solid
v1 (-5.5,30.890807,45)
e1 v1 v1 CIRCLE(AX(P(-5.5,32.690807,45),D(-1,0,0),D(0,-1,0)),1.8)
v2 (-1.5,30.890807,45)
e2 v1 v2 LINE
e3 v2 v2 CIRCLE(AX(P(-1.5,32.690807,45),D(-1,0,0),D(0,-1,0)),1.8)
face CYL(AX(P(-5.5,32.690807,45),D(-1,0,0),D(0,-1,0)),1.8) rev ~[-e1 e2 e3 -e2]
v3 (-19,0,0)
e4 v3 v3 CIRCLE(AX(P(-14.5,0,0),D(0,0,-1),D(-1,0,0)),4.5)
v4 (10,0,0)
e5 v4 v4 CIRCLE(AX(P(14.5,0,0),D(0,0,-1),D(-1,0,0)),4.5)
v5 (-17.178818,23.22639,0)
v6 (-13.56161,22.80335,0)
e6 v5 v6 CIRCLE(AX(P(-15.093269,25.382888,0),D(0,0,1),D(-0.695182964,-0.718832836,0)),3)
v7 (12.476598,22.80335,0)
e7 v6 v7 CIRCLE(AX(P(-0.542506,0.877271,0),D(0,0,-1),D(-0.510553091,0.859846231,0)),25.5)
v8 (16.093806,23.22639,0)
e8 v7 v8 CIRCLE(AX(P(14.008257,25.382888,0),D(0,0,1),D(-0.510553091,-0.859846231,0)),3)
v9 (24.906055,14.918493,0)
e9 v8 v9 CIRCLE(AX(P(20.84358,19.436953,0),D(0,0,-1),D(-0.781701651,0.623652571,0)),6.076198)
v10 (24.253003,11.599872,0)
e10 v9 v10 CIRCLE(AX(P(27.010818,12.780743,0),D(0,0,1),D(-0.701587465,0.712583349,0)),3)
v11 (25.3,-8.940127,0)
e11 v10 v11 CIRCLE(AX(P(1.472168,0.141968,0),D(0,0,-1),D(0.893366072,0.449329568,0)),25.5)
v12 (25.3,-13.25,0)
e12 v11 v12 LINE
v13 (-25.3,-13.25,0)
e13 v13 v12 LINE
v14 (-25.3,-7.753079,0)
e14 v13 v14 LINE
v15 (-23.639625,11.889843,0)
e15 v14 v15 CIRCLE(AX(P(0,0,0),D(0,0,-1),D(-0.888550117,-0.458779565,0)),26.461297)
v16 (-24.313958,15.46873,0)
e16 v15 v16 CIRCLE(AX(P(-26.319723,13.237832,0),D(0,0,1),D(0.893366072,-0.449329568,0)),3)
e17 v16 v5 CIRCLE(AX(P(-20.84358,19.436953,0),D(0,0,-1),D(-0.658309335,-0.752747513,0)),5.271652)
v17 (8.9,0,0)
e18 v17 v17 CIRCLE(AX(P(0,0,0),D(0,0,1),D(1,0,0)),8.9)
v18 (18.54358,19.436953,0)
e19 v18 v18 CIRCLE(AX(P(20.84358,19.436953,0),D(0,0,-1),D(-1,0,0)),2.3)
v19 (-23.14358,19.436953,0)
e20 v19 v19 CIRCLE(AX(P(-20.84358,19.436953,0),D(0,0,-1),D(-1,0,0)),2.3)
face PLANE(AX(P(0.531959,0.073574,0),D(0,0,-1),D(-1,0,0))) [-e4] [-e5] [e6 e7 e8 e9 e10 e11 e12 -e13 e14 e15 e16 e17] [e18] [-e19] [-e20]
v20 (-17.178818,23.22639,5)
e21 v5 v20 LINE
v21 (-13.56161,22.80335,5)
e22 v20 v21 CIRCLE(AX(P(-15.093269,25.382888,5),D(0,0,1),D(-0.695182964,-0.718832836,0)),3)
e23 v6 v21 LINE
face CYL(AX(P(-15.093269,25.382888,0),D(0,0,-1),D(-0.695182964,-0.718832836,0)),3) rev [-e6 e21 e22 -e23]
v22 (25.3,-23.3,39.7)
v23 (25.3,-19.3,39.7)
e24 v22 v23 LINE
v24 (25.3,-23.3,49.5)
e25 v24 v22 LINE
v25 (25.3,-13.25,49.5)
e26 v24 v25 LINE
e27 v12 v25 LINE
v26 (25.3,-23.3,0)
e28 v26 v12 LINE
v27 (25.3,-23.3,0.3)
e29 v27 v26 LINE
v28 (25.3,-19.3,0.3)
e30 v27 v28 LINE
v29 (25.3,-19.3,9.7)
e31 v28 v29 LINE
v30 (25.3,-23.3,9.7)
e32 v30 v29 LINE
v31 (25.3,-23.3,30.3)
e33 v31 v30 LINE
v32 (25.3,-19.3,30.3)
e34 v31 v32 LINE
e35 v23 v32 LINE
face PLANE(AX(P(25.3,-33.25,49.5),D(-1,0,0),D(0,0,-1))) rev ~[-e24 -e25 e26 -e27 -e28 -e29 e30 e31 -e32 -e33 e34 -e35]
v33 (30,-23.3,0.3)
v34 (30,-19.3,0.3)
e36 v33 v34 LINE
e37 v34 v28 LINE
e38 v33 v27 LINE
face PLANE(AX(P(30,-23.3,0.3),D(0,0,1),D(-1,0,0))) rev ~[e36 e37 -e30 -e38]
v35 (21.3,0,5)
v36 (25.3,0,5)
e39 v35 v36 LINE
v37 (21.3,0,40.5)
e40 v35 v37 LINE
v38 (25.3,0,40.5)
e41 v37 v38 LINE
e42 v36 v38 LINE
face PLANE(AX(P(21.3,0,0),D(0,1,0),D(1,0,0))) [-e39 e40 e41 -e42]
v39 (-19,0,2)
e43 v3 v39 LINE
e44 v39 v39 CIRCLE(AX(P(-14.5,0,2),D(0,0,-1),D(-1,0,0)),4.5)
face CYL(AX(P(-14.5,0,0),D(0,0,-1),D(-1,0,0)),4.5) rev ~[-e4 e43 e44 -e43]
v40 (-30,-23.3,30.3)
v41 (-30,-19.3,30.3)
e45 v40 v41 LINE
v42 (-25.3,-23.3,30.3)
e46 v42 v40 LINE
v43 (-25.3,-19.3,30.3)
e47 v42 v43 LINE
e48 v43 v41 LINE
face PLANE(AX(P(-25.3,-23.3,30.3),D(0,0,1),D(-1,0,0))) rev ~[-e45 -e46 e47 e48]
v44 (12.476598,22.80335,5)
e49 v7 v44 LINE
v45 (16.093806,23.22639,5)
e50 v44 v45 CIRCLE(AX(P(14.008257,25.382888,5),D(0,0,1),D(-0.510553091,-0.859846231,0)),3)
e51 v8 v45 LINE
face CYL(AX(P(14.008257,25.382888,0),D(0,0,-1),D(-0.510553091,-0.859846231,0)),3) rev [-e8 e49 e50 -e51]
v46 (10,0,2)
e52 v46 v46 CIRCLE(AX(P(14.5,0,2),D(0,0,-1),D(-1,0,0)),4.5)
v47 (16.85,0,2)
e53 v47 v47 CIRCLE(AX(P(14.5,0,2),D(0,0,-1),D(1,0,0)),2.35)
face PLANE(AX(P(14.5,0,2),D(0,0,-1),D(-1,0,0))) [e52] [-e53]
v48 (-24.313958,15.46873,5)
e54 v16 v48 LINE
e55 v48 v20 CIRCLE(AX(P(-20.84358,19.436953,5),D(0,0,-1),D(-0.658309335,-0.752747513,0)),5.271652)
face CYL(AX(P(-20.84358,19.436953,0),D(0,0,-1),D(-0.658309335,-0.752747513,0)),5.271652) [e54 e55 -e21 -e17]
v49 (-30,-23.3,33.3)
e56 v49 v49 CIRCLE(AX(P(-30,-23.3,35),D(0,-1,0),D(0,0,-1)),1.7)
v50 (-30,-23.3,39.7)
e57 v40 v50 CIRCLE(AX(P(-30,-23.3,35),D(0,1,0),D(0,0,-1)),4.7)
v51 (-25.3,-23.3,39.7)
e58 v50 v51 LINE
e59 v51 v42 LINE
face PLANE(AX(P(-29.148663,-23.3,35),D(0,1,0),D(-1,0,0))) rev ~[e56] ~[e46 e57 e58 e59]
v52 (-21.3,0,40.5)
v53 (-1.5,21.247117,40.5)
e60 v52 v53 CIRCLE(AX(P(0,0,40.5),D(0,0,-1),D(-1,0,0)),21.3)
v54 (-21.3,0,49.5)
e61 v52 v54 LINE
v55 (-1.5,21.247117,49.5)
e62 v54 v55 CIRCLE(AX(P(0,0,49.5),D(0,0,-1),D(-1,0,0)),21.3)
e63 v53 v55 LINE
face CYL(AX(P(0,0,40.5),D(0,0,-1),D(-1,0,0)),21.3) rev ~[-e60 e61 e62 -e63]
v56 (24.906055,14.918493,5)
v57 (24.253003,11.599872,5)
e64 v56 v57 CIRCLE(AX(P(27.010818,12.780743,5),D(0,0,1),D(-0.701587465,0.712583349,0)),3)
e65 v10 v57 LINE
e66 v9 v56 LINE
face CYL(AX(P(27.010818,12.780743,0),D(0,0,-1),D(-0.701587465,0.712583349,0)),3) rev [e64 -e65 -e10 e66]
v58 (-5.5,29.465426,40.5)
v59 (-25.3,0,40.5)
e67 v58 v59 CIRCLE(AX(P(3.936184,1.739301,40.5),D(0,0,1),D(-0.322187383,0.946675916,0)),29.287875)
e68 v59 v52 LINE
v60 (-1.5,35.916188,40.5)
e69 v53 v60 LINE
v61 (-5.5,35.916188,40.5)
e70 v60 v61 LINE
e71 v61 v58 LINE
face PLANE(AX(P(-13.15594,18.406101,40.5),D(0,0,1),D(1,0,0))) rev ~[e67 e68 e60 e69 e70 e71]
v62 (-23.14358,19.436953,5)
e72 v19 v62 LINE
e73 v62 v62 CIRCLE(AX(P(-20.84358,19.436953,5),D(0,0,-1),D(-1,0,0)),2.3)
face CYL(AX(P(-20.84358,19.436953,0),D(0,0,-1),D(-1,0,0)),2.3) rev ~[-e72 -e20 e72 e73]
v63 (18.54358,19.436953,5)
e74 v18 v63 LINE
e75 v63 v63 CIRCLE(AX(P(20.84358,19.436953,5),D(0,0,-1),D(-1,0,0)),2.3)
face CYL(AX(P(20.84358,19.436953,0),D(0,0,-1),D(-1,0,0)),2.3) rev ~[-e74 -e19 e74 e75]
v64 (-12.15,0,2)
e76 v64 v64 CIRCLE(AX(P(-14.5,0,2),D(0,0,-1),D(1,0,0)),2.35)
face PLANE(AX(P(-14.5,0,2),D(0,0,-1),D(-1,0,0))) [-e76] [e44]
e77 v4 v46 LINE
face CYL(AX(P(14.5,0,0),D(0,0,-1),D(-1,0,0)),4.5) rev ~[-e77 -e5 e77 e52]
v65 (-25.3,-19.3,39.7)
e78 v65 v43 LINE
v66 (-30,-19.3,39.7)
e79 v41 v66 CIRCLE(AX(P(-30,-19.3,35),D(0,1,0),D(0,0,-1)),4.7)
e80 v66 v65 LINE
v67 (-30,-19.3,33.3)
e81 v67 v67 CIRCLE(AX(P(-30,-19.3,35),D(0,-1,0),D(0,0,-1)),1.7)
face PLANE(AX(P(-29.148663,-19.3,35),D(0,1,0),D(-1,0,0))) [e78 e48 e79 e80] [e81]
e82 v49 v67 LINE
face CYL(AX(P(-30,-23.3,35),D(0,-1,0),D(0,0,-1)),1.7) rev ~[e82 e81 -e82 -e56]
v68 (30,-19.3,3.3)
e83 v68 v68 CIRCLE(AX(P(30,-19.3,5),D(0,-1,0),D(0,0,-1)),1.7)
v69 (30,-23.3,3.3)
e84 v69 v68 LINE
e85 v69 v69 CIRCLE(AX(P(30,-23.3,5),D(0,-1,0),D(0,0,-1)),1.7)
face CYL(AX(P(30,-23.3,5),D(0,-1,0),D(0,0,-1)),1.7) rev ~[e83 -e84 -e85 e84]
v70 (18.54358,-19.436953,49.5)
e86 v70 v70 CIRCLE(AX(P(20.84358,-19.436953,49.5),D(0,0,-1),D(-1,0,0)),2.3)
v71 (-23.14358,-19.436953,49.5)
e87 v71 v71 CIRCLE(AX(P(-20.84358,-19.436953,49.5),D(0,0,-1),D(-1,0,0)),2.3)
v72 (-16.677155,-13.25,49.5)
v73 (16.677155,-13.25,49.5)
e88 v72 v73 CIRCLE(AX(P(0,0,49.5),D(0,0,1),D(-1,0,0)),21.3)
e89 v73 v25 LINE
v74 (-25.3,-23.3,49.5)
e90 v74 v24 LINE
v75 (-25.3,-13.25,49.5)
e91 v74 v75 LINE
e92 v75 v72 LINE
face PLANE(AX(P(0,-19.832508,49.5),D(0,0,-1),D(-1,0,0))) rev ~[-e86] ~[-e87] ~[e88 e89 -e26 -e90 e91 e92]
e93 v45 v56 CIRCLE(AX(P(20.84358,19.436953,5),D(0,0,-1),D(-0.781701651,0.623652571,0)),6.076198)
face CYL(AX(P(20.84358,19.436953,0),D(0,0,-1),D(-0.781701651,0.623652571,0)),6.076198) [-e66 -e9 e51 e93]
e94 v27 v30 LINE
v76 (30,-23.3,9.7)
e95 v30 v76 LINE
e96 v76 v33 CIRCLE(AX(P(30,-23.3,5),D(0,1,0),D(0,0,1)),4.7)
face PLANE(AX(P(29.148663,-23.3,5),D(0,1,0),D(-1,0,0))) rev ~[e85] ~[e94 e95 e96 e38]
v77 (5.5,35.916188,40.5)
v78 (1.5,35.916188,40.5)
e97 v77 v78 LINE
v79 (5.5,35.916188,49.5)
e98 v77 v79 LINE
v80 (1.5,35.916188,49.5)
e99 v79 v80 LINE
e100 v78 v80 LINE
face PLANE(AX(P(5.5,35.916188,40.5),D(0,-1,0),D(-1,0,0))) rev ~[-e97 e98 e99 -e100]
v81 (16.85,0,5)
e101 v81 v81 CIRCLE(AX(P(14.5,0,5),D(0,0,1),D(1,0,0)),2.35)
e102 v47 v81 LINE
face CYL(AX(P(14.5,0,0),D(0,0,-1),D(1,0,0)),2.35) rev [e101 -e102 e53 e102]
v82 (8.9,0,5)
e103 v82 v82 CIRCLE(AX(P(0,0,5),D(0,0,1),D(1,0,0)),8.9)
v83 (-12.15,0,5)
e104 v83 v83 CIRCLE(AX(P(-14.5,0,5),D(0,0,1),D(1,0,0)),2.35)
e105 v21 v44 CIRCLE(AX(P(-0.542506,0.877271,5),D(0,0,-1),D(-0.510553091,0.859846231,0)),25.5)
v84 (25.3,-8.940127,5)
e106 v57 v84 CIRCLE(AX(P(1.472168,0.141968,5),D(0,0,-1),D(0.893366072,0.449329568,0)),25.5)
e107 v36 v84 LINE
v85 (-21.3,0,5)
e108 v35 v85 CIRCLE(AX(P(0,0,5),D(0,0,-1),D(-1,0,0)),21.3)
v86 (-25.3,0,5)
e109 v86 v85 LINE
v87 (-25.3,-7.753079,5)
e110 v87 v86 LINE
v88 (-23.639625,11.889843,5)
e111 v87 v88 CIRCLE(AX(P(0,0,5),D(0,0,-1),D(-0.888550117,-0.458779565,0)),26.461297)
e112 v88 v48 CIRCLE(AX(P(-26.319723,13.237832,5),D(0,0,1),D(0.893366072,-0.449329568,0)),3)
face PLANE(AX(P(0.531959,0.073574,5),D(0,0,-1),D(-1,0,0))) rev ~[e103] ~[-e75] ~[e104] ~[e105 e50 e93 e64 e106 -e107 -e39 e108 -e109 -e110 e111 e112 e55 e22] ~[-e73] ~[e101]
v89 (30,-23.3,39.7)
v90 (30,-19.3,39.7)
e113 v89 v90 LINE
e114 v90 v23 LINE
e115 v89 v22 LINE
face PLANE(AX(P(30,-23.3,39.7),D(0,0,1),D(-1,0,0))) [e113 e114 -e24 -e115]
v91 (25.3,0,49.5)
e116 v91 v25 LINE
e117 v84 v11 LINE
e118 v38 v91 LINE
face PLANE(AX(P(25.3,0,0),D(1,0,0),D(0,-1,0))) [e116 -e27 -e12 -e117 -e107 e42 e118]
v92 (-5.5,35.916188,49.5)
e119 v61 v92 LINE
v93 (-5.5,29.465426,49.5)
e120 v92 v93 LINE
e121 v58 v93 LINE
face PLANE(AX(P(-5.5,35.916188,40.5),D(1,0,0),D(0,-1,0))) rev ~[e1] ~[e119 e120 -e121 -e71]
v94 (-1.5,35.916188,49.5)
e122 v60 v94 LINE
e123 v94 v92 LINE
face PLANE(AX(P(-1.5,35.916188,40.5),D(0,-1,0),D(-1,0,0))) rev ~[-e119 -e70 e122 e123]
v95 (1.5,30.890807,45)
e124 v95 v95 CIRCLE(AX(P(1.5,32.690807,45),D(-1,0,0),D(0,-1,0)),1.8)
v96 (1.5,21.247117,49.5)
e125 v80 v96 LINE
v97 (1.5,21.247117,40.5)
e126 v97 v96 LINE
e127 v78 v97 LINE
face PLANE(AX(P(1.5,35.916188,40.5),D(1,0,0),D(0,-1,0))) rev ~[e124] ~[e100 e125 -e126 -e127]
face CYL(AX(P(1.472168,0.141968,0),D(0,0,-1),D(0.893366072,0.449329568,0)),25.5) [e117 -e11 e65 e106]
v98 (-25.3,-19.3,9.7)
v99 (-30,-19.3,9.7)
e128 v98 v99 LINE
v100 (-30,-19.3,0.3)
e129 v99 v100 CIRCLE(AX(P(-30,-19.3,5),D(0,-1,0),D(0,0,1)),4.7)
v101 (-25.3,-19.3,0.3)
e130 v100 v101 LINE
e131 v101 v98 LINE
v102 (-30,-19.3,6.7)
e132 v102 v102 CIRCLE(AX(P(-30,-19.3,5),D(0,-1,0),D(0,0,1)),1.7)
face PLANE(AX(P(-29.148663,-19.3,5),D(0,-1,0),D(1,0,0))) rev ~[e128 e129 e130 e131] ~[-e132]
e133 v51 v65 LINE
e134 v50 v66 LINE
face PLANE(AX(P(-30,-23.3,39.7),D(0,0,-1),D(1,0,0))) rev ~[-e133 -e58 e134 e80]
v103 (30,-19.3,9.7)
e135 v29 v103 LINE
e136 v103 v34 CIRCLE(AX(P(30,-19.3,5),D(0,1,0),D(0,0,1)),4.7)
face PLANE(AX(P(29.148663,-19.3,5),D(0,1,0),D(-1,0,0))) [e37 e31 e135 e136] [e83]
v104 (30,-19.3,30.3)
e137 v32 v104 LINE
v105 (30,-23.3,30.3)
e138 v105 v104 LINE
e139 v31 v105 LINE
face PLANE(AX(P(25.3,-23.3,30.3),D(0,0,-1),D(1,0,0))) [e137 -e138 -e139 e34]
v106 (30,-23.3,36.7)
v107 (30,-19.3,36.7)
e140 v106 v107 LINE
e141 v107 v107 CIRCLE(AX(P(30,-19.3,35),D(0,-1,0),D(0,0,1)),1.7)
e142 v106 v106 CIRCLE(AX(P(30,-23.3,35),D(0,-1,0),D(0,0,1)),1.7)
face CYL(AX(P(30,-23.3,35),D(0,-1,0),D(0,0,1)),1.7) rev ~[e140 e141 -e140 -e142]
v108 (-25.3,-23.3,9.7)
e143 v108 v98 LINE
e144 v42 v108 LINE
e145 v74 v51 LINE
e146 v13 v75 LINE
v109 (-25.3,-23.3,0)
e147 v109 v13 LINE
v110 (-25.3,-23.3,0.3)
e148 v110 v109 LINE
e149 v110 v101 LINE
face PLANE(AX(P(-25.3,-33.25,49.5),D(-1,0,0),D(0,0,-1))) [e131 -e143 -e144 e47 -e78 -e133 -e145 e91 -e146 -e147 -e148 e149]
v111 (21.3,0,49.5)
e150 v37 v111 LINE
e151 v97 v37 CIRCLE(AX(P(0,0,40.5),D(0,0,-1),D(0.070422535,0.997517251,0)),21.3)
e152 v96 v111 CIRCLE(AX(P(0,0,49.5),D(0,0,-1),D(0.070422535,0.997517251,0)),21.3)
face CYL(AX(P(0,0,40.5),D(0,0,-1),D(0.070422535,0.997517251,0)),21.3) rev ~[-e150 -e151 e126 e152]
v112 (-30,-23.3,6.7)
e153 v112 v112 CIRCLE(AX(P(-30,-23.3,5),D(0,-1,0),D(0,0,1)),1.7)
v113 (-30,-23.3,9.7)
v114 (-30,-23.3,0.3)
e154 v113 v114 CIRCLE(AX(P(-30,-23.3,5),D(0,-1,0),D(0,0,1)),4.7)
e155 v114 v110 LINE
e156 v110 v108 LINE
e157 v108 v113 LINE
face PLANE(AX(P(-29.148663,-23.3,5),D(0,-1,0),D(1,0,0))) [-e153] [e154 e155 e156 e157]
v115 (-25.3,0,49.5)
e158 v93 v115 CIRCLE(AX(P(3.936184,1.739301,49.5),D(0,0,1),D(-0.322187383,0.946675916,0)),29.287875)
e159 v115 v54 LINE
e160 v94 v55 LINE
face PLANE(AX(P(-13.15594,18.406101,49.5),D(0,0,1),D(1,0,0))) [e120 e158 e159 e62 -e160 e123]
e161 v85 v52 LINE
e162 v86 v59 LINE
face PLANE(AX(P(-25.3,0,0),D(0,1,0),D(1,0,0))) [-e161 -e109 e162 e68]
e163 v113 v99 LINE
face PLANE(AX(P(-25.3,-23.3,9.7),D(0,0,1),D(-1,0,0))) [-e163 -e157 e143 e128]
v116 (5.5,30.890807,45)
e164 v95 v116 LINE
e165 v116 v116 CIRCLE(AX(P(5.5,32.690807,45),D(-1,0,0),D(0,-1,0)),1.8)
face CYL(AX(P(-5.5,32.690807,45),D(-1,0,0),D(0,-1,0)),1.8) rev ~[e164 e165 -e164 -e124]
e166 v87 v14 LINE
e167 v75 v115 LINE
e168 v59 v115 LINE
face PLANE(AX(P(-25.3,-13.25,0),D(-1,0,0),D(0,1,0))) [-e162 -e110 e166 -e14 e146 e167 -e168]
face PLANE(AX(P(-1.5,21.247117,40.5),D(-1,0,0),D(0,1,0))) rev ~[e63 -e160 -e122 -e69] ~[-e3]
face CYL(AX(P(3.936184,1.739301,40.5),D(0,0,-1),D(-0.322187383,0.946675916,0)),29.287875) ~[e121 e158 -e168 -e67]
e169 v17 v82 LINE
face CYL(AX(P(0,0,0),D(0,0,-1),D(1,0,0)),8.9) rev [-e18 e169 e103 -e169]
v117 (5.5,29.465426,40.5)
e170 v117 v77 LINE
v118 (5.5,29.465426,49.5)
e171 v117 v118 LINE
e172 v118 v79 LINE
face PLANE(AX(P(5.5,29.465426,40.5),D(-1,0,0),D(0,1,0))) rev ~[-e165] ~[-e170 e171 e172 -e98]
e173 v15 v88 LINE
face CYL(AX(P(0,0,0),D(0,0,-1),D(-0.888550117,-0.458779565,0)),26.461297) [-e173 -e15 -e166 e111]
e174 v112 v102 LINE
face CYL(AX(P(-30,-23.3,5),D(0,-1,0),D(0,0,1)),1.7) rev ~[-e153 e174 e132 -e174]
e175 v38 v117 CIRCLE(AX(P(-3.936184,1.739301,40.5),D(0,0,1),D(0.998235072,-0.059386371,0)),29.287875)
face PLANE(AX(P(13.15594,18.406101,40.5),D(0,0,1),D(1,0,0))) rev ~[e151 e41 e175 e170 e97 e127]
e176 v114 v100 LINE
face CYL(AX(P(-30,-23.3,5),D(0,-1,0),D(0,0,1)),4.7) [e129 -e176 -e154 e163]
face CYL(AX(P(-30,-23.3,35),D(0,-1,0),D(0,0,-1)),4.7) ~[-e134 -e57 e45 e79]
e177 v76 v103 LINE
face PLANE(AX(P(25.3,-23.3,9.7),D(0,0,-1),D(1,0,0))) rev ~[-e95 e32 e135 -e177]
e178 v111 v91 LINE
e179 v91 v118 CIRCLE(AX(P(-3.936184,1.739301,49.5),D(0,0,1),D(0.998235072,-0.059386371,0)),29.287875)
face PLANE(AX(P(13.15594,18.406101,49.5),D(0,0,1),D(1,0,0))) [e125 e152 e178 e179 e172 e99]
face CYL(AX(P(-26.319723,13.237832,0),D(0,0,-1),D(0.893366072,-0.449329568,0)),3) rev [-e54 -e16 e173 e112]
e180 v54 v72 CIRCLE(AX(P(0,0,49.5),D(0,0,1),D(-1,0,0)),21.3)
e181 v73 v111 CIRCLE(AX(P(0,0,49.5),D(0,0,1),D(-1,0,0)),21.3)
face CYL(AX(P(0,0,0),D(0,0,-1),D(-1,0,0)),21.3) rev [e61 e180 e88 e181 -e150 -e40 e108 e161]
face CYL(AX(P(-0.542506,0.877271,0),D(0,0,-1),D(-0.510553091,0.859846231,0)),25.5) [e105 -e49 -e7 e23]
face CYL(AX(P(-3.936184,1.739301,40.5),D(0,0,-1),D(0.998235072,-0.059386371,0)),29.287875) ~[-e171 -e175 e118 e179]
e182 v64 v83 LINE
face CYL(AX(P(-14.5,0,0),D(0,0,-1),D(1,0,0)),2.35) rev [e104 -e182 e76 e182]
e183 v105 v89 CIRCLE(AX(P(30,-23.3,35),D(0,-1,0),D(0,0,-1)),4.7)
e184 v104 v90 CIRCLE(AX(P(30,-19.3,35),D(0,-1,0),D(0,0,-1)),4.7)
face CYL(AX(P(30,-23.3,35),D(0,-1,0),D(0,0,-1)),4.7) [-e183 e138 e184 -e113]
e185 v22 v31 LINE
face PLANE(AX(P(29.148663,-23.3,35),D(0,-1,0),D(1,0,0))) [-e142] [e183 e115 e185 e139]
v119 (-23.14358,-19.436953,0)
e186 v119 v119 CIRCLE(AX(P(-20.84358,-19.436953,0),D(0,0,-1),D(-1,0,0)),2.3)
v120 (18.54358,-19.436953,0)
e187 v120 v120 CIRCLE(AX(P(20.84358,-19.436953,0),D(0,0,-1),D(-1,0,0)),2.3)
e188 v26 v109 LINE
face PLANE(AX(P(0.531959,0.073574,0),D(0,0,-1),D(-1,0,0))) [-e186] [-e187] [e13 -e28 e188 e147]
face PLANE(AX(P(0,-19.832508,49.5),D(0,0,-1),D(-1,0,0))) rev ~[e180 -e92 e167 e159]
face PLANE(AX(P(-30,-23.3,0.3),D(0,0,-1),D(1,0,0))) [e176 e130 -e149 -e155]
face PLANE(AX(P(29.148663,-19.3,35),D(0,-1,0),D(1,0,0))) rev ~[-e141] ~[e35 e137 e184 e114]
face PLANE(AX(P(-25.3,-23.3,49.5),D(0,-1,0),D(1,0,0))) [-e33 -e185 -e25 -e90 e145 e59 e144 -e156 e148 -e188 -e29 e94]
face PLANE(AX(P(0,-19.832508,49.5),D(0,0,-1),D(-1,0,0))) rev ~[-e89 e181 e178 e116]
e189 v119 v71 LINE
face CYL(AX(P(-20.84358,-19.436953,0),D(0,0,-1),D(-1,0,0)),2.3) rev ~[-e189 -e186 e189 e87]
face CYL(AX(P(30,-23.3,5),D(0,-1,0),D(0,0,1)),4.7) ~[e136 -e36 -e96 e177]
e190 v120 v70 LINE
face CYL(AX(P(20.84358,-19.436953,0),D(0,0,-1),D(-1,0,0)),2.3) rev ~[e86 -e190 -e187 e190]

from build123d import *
from build123d.topology import SkipClean

# Parameters (mm, degrees)
SKETCH_1_R               = 2.35
SKETCH_1_R_2             = 8.9
EXTRUDE_1_DEPTH          = 5
EXTRUDE_2_DEPTH          = 44.5
EXTRUDE_2_DEPTH_BACK     = 5
EXTRUDE_START            = -9
EXTRUDE_3_DEPTH          = 9
SKETCH_5_R               = 1.8
CUT_EXTRUDE_2_DEPTH      = 19
CUT_EXTRUDE_5_DEPTH      = 10
CUT_EXTRUDE_5_DEPTH_BACK = 10
SKETCH_9_W               = 118.709111843
SKETCH_9_H               = 68.105929764
SKETCH_9_W_2             = 50.6
SKETCH_9_H_2             = 49.5
SKETCH_10_W              = 50.6
SKETCH_10_H              = 4.95
CUT_EXTRUDE_6_DEPTH      = 67.841008738
SKETCH_11_R              = 2.3
CUT_EXTRUDE_7_DEPTH      = 67.841008738
SKETCH_12_R              = 2.3
CUT_EXTRUDE_8_DEPTH      = 10
SKETCH_13_R              = 4.5
CUT_EXTRUDE_9_DEPTH      = 2
SKETCH_14_R              = 1.7
EXTRUDE_4_DEPTH          = 4


with BuildPart() as part:
    # Эскиз1 → Бобышка-Вытянуть1 (new body)
    with BuildSketch(Plane.XY):
        with BuildLine():
            ThreePointArc((-13.750457514, -22.60807726), (-15.630598029, -22.207924557), (-17.367665677, -23.031117444))
            ThreePointArc((-17.367665677, -23.031117444), (-24.500349004, -22.846945062), (-24.186521915, -15.718789377))
            ThreePointArc((-24.186521915, -15.718789377), (-23.24416257, -14.043376172), (-23.512188549, -12.139902343))
            ThreePointArc((-23.512188549, -12.139902343), (-26.460924905, -0.14032965), (-23.639624978, 11.889843151))
            ThreePointArc((-23.639624978, 11.889843151), (-23.371598999, 13.79331698), (-24.313958344, 15.468730186))
            ThreePointArc((-24.313958344, 15.468730186), (-24.723627875, 23.005643376), (-17.178817704, 23.226389957))
            ThreePointArc((-17.178817704, 23.226389957), (-15.441750056, 22.403197069), (-13.561609541, 22.803349773))
            ThreePointArc((-13.561609541, 22.803349773), (-0.542505729, 26.377270873), (12.476598084, 22.803349773))
            ThreePointArc((12.476598084, 22.803349773), (14.356738599, 22.403197069), (16.093806247, 23.226389957))
            ThreePointArc((16.093806247, 23.226389957), (25.011719512, 23.858129918), (24.906055495, 14.918493041))
            ThreePointArc((24.906055495, 14.918493041), (24.067269609, 13.359986921), (24.253003064, 11.599871535))
            ThreePointArc((24.253003064, 11.599871535), (26.972168217, 0.141967553), (24.253003064, -11.31593643))
            ThreePointArc((24.253003064, -11.31593643), (23.984977085, -13.219410259), (24.92733643, -14.894823465))
            ThreePointArc((24.92733643, -14.894823465), (24.934120683, -23.972974271), (15.904958274, -23.031117444))
            ThreePointArc((15.904958274, -23.031117444), (14.167890626, -22.207924557), (12.287750111, -22.60807726))
            ThreePointArc((12.287750111, -22.60807726), (-0.731353702, -26.18199836), (-13.750457514, -22.60807726))
        make_face()
        with Locations((-14.5, 0)):
            Circle(SKETCH_1_R, mode=Mode.SUBTRACT)
        with Locations((14.5, 0)):
            Circle(SKETCH_1_R, mode=Mode.SUBTRACT)
        Circle(SKETCH_1_R_2, mode=Mode.SUBTRACT)
    extrude(amount=EXTRUDE_1_DEPTH)

    # Эскиз2 → Бобышка-Вытянуть2 (add, two sides: drawn at the far end of the back side and taken through both)
    with BuildSketch(Plane.XY.offset(5).offset(-EXTRUDE_2_DEPTH_BACK)):
        with BuildLine():
            Line((-25.3, 0), (-21.3, 0))
            ThreePointArc((-21.3, 0), (0, -21.3), (21.3, 0))
            Line((21.3, 0), (25.3, 0))
            Line((25.3, 0), (25.3, -13.25))
            ThreePointArc((25.3, -13.25), (28.228932188, -20.321067812), (35.3, -23.25))
            Line((35.3, -23.25), (50, -23.25))
            Line((50, -23.25), (50, -28.25))
            Line((50, -28.25), (-50, -28.25))
            Line((-50, -28.25), (-50, -23.25))
            Line((-50, -23.25), (-35.3, -23.25))
            ThreePointArc((-35.3, -23.25), (-28.228932188, -20.321067812), (-25.3, -13.25))
            Line((-25.3, -13.25), (-25.3, 0))
        make_face()
    extrude(amount=EXTRUDE_2_DEPTH + EXTRUDE_2_DEPTH_BACK)

    # Эскиз4 → Бобышка-Вытянуть3 (add)
    with SkipClean():  # the faces are left unmerged after this step: merging them gives an invalid solid
        with BuildSketch(Plane.XY.offset(49.5).offset(EXTRUDE_START)):
            with BuildLine():
                Line((21.3, 0), (25.3, 0))
                ThreePointArc((25.3, 0), (20.373090978, 18.07450089), (5.5, 29.465426213))
                Line((5.5, 29.465426213), (5.5, 35.916188423))
                Line((5.5, 35.916188423), (1.5, 35.916188423))
                Line((1.5, 35.916188423), (1.5, 29.916188423))
                Line((1.5, 29.916188423), (1.5, 21.247117452))
                ThreePointArc((1.5, 21.247117452), (15.582682696, 14.521363572), (21.3, 0))
            make_face()
            with BuildLine():
                Line((-25.3, 0), (-21.3, 0))
                ThreePointArc((-21.3, 0), (-15.582682696, 14.521363572), (-1.5, 21.247117452))
                Line((-1.5, 21.247117452), (-1.5, 29.916188423))
                Line((-1.5, 29.916188423), (-1.5, 35.916188423))
                Line((-1.5, 35.916188423), (-5.5, 35.916188423))
                Line((-5.5, 35.916188423), (-5.5, 29.465426213))
                ThreePointArc((-5.5, 29.465426213), (-20.373090978, 18.07450089), (-25.3, 0))
            make_face()
        extrude(amount=EXTRUDE_3_DEPTH)

    # Эскиз5 → Вырез-Вытянуть2 (cut)
    with SkipClean():  # the faces are left unmerged after this step: merging them gives an invalid solid
        with BuildSketch(Plane.ZY.offset(5.5)):
            with Locations((45, 32.690807318)):
                Circle(SKETCH_5_R)
        extrude(amount=-CUT_EXTRUDE_2_DEPTH, mode=Mode.SUBTRACT)

    # Эскиз9 → Вырез-Вытянуть5 (cut, two sides: drawn at the far end of the back side and taken through both)
    with SkipClean():  # the faces are left unmerged after this step: merging them gives an invalid solid
        with BuildSketch(Plane(origin=(0, -23.25, 0), x_dir=(1, 0, 0), z_dir=(0, 1, 0)).offset(-CUT_EXTRUDE_5_DEPTH_BACK)):
            with Locations((-0.535798399, -23.678403203)):
                Rectangle(SKETCH_9_W, SKETCH_9_H)
            with Locations((0, -24.75)):
                Rectangle(SKETCH_9_W_2, SKETCH_9_H_2, mode=Mode.SUBTRACT)
        extrude(amount=CUT_EXTRUDE_5_DEPTH + CUT_EXTRUDE_5_DEPTH_BACK, mode=Mode.SUBTRACT)

    # Эскиз10 → Вырез-Вытянуть6 (cut, through all)
    with SkipClean():  # the faces are left unmerged after this step: merging them gives an invalid solid
        with BuildSketch(Plane.XY.offset(49.5)):
            with Locations((0, -25.775)):
                Rectangle(SKETCH_10_W, SKETCH_10_H)
        extrude(amount=-CUT_EXTRUDE_6_DEPTH, mode=Mode.SUBTRACT)

    # Эскиз11 → Вырез-Вытянуть7 (cut, through all)
    with SkipClean():  # the faces are left unmerged after this step: merging them gives an invalid solid
        with BuildSketch(Plane(origin=(0, 0, 0), x_dir=(-1, 0, 0), z_dir=(0, 0, -1))):
            with Locations((-20.843580496, -19.436953262)):
                Circle(SKETCH_11_R)
            with Locations((20.843580496, -19.436953262)):
                Circle(SKETCH_11_R)
        extrude(amount=-CUT_EXTRUDE_7_DEPTH, mode=Mode.SUBTRACT)

    # Эскиз12 → Вырез-Вытянуть8 (cut)
    with SkipClean():  # the faces are left unmerged after this step: merging them gives an invalid solid
        with BuildSketch(Plane(origin=(0, 0, 0), x_dir=(-1, 0, 0), z_dir=(0, 0, -1))):
            with Locations((-20.843580496, 19.436953262)):
                Circle(SKETCH_12_R)
            with Locations((20.843580496, 19.436953262)):
                Circle(SKETCH_12_R)
        extrude(amount=-CUT_EXTRUDE_8_DEPTH, mode=Mode.SUBTRACT)

    # Эскиз13 → Вырез-Вытянуть9 (cut)
    with SkipClean():  # the faces are left unmerged after this step: merging them gives an invalid solid
        with BuildSketch(Plane(origin=(0, 0, 0), x_dir=(-1, 0, 0), z_dir=(0, 0, -1))):
            with Locations((-14.5, 0)):
                Circle(SKETCH_13_R)
            with Locations((14.5, 0)):
                Circle(SKETCH_13_R)
        extrude(amount=-CUT_EXTRUDE_9_DEPTH, mode=Mode.SUBTRACT)

    # Эскиз14 → Бобышка-Вытянуть4 (add)
    # profile 1 of 4: a face of its own
    with SkipClean():  # the faces are left unmerged after this step: merging them gives an invalid solid
        with BuildSketch(Plane.XZ.offset(23.3)):
            with BuildLine():
                Line((-30, 39.7), (-25.3, 39.7))
                Line((-25.3, 39.7), (-25.3, 30.3))
                Line((-25.3, 30.3), (-30, 30.3))
                ThreePointArc((-30, 30.3), (-34.7, 35), (-30, 39.7))
            make_face()
            with Locations((-30, 35)):
                Circle(SKETCH_14_R, mode=Mode.SUBTRACT)
        # profile 2 of 4: a face of its own
        with BuildSketch(Plane.XZ.offset(23.3)):
            with BuildLine():
                Line((25.3, 39.7), (25.3, 30.3))
                Line((25.3, 30.3), (30, 30.3))
                ThreePointArc((30, 30.3), (34.7, 35), (30, 39.7))
                Line((30, 39.7), (25.3, 39.7))
            make_face()
            with Locations((30, 35)):
                Circle(SKETCH_14_R, mode=Mode.SUBTRACT)
        # profile 3 of 4: a face of its own
        with BuildSketch(Plane.XZ.offset(23.3)):
            with BuildLine():
                Line((30, 0.3), (25.3, 0.3))
                Line((25.3, 0.3), (25.3, 9.7))
                Line((25.3, 9.7), (30, 9.7))
                ThreePointArc((30, 9.7), (34.7, 5), (30, 0.3))
            make_face()
            with Locations((30, 5)):
                Circle(SKETCH_14_R, mode=Mode.SUBTRACT)
        # profile 4 of 4: a face of its own
        with BuildSketch(Plane.XZ.offset(23.3)):
            with BuildLine():
                Line((-25.3, 0.3), (-25.3, 9.7))
                Line((-25.3, 9.7), (-30, 9.7))
                ThreePointArc((-30, 9.7), (-34.7, 5), (-30, 0.3))
                Line((-30, 0.3), (-25.3, 0.3))
            make_face()
            with Locations((-30, 5)):
                Circle(SKETCH_14_R, mode=Mode.SUBTRACT)
        extrude(amount=-EXTRUDE_4_DEPTH)


solid = part.part
